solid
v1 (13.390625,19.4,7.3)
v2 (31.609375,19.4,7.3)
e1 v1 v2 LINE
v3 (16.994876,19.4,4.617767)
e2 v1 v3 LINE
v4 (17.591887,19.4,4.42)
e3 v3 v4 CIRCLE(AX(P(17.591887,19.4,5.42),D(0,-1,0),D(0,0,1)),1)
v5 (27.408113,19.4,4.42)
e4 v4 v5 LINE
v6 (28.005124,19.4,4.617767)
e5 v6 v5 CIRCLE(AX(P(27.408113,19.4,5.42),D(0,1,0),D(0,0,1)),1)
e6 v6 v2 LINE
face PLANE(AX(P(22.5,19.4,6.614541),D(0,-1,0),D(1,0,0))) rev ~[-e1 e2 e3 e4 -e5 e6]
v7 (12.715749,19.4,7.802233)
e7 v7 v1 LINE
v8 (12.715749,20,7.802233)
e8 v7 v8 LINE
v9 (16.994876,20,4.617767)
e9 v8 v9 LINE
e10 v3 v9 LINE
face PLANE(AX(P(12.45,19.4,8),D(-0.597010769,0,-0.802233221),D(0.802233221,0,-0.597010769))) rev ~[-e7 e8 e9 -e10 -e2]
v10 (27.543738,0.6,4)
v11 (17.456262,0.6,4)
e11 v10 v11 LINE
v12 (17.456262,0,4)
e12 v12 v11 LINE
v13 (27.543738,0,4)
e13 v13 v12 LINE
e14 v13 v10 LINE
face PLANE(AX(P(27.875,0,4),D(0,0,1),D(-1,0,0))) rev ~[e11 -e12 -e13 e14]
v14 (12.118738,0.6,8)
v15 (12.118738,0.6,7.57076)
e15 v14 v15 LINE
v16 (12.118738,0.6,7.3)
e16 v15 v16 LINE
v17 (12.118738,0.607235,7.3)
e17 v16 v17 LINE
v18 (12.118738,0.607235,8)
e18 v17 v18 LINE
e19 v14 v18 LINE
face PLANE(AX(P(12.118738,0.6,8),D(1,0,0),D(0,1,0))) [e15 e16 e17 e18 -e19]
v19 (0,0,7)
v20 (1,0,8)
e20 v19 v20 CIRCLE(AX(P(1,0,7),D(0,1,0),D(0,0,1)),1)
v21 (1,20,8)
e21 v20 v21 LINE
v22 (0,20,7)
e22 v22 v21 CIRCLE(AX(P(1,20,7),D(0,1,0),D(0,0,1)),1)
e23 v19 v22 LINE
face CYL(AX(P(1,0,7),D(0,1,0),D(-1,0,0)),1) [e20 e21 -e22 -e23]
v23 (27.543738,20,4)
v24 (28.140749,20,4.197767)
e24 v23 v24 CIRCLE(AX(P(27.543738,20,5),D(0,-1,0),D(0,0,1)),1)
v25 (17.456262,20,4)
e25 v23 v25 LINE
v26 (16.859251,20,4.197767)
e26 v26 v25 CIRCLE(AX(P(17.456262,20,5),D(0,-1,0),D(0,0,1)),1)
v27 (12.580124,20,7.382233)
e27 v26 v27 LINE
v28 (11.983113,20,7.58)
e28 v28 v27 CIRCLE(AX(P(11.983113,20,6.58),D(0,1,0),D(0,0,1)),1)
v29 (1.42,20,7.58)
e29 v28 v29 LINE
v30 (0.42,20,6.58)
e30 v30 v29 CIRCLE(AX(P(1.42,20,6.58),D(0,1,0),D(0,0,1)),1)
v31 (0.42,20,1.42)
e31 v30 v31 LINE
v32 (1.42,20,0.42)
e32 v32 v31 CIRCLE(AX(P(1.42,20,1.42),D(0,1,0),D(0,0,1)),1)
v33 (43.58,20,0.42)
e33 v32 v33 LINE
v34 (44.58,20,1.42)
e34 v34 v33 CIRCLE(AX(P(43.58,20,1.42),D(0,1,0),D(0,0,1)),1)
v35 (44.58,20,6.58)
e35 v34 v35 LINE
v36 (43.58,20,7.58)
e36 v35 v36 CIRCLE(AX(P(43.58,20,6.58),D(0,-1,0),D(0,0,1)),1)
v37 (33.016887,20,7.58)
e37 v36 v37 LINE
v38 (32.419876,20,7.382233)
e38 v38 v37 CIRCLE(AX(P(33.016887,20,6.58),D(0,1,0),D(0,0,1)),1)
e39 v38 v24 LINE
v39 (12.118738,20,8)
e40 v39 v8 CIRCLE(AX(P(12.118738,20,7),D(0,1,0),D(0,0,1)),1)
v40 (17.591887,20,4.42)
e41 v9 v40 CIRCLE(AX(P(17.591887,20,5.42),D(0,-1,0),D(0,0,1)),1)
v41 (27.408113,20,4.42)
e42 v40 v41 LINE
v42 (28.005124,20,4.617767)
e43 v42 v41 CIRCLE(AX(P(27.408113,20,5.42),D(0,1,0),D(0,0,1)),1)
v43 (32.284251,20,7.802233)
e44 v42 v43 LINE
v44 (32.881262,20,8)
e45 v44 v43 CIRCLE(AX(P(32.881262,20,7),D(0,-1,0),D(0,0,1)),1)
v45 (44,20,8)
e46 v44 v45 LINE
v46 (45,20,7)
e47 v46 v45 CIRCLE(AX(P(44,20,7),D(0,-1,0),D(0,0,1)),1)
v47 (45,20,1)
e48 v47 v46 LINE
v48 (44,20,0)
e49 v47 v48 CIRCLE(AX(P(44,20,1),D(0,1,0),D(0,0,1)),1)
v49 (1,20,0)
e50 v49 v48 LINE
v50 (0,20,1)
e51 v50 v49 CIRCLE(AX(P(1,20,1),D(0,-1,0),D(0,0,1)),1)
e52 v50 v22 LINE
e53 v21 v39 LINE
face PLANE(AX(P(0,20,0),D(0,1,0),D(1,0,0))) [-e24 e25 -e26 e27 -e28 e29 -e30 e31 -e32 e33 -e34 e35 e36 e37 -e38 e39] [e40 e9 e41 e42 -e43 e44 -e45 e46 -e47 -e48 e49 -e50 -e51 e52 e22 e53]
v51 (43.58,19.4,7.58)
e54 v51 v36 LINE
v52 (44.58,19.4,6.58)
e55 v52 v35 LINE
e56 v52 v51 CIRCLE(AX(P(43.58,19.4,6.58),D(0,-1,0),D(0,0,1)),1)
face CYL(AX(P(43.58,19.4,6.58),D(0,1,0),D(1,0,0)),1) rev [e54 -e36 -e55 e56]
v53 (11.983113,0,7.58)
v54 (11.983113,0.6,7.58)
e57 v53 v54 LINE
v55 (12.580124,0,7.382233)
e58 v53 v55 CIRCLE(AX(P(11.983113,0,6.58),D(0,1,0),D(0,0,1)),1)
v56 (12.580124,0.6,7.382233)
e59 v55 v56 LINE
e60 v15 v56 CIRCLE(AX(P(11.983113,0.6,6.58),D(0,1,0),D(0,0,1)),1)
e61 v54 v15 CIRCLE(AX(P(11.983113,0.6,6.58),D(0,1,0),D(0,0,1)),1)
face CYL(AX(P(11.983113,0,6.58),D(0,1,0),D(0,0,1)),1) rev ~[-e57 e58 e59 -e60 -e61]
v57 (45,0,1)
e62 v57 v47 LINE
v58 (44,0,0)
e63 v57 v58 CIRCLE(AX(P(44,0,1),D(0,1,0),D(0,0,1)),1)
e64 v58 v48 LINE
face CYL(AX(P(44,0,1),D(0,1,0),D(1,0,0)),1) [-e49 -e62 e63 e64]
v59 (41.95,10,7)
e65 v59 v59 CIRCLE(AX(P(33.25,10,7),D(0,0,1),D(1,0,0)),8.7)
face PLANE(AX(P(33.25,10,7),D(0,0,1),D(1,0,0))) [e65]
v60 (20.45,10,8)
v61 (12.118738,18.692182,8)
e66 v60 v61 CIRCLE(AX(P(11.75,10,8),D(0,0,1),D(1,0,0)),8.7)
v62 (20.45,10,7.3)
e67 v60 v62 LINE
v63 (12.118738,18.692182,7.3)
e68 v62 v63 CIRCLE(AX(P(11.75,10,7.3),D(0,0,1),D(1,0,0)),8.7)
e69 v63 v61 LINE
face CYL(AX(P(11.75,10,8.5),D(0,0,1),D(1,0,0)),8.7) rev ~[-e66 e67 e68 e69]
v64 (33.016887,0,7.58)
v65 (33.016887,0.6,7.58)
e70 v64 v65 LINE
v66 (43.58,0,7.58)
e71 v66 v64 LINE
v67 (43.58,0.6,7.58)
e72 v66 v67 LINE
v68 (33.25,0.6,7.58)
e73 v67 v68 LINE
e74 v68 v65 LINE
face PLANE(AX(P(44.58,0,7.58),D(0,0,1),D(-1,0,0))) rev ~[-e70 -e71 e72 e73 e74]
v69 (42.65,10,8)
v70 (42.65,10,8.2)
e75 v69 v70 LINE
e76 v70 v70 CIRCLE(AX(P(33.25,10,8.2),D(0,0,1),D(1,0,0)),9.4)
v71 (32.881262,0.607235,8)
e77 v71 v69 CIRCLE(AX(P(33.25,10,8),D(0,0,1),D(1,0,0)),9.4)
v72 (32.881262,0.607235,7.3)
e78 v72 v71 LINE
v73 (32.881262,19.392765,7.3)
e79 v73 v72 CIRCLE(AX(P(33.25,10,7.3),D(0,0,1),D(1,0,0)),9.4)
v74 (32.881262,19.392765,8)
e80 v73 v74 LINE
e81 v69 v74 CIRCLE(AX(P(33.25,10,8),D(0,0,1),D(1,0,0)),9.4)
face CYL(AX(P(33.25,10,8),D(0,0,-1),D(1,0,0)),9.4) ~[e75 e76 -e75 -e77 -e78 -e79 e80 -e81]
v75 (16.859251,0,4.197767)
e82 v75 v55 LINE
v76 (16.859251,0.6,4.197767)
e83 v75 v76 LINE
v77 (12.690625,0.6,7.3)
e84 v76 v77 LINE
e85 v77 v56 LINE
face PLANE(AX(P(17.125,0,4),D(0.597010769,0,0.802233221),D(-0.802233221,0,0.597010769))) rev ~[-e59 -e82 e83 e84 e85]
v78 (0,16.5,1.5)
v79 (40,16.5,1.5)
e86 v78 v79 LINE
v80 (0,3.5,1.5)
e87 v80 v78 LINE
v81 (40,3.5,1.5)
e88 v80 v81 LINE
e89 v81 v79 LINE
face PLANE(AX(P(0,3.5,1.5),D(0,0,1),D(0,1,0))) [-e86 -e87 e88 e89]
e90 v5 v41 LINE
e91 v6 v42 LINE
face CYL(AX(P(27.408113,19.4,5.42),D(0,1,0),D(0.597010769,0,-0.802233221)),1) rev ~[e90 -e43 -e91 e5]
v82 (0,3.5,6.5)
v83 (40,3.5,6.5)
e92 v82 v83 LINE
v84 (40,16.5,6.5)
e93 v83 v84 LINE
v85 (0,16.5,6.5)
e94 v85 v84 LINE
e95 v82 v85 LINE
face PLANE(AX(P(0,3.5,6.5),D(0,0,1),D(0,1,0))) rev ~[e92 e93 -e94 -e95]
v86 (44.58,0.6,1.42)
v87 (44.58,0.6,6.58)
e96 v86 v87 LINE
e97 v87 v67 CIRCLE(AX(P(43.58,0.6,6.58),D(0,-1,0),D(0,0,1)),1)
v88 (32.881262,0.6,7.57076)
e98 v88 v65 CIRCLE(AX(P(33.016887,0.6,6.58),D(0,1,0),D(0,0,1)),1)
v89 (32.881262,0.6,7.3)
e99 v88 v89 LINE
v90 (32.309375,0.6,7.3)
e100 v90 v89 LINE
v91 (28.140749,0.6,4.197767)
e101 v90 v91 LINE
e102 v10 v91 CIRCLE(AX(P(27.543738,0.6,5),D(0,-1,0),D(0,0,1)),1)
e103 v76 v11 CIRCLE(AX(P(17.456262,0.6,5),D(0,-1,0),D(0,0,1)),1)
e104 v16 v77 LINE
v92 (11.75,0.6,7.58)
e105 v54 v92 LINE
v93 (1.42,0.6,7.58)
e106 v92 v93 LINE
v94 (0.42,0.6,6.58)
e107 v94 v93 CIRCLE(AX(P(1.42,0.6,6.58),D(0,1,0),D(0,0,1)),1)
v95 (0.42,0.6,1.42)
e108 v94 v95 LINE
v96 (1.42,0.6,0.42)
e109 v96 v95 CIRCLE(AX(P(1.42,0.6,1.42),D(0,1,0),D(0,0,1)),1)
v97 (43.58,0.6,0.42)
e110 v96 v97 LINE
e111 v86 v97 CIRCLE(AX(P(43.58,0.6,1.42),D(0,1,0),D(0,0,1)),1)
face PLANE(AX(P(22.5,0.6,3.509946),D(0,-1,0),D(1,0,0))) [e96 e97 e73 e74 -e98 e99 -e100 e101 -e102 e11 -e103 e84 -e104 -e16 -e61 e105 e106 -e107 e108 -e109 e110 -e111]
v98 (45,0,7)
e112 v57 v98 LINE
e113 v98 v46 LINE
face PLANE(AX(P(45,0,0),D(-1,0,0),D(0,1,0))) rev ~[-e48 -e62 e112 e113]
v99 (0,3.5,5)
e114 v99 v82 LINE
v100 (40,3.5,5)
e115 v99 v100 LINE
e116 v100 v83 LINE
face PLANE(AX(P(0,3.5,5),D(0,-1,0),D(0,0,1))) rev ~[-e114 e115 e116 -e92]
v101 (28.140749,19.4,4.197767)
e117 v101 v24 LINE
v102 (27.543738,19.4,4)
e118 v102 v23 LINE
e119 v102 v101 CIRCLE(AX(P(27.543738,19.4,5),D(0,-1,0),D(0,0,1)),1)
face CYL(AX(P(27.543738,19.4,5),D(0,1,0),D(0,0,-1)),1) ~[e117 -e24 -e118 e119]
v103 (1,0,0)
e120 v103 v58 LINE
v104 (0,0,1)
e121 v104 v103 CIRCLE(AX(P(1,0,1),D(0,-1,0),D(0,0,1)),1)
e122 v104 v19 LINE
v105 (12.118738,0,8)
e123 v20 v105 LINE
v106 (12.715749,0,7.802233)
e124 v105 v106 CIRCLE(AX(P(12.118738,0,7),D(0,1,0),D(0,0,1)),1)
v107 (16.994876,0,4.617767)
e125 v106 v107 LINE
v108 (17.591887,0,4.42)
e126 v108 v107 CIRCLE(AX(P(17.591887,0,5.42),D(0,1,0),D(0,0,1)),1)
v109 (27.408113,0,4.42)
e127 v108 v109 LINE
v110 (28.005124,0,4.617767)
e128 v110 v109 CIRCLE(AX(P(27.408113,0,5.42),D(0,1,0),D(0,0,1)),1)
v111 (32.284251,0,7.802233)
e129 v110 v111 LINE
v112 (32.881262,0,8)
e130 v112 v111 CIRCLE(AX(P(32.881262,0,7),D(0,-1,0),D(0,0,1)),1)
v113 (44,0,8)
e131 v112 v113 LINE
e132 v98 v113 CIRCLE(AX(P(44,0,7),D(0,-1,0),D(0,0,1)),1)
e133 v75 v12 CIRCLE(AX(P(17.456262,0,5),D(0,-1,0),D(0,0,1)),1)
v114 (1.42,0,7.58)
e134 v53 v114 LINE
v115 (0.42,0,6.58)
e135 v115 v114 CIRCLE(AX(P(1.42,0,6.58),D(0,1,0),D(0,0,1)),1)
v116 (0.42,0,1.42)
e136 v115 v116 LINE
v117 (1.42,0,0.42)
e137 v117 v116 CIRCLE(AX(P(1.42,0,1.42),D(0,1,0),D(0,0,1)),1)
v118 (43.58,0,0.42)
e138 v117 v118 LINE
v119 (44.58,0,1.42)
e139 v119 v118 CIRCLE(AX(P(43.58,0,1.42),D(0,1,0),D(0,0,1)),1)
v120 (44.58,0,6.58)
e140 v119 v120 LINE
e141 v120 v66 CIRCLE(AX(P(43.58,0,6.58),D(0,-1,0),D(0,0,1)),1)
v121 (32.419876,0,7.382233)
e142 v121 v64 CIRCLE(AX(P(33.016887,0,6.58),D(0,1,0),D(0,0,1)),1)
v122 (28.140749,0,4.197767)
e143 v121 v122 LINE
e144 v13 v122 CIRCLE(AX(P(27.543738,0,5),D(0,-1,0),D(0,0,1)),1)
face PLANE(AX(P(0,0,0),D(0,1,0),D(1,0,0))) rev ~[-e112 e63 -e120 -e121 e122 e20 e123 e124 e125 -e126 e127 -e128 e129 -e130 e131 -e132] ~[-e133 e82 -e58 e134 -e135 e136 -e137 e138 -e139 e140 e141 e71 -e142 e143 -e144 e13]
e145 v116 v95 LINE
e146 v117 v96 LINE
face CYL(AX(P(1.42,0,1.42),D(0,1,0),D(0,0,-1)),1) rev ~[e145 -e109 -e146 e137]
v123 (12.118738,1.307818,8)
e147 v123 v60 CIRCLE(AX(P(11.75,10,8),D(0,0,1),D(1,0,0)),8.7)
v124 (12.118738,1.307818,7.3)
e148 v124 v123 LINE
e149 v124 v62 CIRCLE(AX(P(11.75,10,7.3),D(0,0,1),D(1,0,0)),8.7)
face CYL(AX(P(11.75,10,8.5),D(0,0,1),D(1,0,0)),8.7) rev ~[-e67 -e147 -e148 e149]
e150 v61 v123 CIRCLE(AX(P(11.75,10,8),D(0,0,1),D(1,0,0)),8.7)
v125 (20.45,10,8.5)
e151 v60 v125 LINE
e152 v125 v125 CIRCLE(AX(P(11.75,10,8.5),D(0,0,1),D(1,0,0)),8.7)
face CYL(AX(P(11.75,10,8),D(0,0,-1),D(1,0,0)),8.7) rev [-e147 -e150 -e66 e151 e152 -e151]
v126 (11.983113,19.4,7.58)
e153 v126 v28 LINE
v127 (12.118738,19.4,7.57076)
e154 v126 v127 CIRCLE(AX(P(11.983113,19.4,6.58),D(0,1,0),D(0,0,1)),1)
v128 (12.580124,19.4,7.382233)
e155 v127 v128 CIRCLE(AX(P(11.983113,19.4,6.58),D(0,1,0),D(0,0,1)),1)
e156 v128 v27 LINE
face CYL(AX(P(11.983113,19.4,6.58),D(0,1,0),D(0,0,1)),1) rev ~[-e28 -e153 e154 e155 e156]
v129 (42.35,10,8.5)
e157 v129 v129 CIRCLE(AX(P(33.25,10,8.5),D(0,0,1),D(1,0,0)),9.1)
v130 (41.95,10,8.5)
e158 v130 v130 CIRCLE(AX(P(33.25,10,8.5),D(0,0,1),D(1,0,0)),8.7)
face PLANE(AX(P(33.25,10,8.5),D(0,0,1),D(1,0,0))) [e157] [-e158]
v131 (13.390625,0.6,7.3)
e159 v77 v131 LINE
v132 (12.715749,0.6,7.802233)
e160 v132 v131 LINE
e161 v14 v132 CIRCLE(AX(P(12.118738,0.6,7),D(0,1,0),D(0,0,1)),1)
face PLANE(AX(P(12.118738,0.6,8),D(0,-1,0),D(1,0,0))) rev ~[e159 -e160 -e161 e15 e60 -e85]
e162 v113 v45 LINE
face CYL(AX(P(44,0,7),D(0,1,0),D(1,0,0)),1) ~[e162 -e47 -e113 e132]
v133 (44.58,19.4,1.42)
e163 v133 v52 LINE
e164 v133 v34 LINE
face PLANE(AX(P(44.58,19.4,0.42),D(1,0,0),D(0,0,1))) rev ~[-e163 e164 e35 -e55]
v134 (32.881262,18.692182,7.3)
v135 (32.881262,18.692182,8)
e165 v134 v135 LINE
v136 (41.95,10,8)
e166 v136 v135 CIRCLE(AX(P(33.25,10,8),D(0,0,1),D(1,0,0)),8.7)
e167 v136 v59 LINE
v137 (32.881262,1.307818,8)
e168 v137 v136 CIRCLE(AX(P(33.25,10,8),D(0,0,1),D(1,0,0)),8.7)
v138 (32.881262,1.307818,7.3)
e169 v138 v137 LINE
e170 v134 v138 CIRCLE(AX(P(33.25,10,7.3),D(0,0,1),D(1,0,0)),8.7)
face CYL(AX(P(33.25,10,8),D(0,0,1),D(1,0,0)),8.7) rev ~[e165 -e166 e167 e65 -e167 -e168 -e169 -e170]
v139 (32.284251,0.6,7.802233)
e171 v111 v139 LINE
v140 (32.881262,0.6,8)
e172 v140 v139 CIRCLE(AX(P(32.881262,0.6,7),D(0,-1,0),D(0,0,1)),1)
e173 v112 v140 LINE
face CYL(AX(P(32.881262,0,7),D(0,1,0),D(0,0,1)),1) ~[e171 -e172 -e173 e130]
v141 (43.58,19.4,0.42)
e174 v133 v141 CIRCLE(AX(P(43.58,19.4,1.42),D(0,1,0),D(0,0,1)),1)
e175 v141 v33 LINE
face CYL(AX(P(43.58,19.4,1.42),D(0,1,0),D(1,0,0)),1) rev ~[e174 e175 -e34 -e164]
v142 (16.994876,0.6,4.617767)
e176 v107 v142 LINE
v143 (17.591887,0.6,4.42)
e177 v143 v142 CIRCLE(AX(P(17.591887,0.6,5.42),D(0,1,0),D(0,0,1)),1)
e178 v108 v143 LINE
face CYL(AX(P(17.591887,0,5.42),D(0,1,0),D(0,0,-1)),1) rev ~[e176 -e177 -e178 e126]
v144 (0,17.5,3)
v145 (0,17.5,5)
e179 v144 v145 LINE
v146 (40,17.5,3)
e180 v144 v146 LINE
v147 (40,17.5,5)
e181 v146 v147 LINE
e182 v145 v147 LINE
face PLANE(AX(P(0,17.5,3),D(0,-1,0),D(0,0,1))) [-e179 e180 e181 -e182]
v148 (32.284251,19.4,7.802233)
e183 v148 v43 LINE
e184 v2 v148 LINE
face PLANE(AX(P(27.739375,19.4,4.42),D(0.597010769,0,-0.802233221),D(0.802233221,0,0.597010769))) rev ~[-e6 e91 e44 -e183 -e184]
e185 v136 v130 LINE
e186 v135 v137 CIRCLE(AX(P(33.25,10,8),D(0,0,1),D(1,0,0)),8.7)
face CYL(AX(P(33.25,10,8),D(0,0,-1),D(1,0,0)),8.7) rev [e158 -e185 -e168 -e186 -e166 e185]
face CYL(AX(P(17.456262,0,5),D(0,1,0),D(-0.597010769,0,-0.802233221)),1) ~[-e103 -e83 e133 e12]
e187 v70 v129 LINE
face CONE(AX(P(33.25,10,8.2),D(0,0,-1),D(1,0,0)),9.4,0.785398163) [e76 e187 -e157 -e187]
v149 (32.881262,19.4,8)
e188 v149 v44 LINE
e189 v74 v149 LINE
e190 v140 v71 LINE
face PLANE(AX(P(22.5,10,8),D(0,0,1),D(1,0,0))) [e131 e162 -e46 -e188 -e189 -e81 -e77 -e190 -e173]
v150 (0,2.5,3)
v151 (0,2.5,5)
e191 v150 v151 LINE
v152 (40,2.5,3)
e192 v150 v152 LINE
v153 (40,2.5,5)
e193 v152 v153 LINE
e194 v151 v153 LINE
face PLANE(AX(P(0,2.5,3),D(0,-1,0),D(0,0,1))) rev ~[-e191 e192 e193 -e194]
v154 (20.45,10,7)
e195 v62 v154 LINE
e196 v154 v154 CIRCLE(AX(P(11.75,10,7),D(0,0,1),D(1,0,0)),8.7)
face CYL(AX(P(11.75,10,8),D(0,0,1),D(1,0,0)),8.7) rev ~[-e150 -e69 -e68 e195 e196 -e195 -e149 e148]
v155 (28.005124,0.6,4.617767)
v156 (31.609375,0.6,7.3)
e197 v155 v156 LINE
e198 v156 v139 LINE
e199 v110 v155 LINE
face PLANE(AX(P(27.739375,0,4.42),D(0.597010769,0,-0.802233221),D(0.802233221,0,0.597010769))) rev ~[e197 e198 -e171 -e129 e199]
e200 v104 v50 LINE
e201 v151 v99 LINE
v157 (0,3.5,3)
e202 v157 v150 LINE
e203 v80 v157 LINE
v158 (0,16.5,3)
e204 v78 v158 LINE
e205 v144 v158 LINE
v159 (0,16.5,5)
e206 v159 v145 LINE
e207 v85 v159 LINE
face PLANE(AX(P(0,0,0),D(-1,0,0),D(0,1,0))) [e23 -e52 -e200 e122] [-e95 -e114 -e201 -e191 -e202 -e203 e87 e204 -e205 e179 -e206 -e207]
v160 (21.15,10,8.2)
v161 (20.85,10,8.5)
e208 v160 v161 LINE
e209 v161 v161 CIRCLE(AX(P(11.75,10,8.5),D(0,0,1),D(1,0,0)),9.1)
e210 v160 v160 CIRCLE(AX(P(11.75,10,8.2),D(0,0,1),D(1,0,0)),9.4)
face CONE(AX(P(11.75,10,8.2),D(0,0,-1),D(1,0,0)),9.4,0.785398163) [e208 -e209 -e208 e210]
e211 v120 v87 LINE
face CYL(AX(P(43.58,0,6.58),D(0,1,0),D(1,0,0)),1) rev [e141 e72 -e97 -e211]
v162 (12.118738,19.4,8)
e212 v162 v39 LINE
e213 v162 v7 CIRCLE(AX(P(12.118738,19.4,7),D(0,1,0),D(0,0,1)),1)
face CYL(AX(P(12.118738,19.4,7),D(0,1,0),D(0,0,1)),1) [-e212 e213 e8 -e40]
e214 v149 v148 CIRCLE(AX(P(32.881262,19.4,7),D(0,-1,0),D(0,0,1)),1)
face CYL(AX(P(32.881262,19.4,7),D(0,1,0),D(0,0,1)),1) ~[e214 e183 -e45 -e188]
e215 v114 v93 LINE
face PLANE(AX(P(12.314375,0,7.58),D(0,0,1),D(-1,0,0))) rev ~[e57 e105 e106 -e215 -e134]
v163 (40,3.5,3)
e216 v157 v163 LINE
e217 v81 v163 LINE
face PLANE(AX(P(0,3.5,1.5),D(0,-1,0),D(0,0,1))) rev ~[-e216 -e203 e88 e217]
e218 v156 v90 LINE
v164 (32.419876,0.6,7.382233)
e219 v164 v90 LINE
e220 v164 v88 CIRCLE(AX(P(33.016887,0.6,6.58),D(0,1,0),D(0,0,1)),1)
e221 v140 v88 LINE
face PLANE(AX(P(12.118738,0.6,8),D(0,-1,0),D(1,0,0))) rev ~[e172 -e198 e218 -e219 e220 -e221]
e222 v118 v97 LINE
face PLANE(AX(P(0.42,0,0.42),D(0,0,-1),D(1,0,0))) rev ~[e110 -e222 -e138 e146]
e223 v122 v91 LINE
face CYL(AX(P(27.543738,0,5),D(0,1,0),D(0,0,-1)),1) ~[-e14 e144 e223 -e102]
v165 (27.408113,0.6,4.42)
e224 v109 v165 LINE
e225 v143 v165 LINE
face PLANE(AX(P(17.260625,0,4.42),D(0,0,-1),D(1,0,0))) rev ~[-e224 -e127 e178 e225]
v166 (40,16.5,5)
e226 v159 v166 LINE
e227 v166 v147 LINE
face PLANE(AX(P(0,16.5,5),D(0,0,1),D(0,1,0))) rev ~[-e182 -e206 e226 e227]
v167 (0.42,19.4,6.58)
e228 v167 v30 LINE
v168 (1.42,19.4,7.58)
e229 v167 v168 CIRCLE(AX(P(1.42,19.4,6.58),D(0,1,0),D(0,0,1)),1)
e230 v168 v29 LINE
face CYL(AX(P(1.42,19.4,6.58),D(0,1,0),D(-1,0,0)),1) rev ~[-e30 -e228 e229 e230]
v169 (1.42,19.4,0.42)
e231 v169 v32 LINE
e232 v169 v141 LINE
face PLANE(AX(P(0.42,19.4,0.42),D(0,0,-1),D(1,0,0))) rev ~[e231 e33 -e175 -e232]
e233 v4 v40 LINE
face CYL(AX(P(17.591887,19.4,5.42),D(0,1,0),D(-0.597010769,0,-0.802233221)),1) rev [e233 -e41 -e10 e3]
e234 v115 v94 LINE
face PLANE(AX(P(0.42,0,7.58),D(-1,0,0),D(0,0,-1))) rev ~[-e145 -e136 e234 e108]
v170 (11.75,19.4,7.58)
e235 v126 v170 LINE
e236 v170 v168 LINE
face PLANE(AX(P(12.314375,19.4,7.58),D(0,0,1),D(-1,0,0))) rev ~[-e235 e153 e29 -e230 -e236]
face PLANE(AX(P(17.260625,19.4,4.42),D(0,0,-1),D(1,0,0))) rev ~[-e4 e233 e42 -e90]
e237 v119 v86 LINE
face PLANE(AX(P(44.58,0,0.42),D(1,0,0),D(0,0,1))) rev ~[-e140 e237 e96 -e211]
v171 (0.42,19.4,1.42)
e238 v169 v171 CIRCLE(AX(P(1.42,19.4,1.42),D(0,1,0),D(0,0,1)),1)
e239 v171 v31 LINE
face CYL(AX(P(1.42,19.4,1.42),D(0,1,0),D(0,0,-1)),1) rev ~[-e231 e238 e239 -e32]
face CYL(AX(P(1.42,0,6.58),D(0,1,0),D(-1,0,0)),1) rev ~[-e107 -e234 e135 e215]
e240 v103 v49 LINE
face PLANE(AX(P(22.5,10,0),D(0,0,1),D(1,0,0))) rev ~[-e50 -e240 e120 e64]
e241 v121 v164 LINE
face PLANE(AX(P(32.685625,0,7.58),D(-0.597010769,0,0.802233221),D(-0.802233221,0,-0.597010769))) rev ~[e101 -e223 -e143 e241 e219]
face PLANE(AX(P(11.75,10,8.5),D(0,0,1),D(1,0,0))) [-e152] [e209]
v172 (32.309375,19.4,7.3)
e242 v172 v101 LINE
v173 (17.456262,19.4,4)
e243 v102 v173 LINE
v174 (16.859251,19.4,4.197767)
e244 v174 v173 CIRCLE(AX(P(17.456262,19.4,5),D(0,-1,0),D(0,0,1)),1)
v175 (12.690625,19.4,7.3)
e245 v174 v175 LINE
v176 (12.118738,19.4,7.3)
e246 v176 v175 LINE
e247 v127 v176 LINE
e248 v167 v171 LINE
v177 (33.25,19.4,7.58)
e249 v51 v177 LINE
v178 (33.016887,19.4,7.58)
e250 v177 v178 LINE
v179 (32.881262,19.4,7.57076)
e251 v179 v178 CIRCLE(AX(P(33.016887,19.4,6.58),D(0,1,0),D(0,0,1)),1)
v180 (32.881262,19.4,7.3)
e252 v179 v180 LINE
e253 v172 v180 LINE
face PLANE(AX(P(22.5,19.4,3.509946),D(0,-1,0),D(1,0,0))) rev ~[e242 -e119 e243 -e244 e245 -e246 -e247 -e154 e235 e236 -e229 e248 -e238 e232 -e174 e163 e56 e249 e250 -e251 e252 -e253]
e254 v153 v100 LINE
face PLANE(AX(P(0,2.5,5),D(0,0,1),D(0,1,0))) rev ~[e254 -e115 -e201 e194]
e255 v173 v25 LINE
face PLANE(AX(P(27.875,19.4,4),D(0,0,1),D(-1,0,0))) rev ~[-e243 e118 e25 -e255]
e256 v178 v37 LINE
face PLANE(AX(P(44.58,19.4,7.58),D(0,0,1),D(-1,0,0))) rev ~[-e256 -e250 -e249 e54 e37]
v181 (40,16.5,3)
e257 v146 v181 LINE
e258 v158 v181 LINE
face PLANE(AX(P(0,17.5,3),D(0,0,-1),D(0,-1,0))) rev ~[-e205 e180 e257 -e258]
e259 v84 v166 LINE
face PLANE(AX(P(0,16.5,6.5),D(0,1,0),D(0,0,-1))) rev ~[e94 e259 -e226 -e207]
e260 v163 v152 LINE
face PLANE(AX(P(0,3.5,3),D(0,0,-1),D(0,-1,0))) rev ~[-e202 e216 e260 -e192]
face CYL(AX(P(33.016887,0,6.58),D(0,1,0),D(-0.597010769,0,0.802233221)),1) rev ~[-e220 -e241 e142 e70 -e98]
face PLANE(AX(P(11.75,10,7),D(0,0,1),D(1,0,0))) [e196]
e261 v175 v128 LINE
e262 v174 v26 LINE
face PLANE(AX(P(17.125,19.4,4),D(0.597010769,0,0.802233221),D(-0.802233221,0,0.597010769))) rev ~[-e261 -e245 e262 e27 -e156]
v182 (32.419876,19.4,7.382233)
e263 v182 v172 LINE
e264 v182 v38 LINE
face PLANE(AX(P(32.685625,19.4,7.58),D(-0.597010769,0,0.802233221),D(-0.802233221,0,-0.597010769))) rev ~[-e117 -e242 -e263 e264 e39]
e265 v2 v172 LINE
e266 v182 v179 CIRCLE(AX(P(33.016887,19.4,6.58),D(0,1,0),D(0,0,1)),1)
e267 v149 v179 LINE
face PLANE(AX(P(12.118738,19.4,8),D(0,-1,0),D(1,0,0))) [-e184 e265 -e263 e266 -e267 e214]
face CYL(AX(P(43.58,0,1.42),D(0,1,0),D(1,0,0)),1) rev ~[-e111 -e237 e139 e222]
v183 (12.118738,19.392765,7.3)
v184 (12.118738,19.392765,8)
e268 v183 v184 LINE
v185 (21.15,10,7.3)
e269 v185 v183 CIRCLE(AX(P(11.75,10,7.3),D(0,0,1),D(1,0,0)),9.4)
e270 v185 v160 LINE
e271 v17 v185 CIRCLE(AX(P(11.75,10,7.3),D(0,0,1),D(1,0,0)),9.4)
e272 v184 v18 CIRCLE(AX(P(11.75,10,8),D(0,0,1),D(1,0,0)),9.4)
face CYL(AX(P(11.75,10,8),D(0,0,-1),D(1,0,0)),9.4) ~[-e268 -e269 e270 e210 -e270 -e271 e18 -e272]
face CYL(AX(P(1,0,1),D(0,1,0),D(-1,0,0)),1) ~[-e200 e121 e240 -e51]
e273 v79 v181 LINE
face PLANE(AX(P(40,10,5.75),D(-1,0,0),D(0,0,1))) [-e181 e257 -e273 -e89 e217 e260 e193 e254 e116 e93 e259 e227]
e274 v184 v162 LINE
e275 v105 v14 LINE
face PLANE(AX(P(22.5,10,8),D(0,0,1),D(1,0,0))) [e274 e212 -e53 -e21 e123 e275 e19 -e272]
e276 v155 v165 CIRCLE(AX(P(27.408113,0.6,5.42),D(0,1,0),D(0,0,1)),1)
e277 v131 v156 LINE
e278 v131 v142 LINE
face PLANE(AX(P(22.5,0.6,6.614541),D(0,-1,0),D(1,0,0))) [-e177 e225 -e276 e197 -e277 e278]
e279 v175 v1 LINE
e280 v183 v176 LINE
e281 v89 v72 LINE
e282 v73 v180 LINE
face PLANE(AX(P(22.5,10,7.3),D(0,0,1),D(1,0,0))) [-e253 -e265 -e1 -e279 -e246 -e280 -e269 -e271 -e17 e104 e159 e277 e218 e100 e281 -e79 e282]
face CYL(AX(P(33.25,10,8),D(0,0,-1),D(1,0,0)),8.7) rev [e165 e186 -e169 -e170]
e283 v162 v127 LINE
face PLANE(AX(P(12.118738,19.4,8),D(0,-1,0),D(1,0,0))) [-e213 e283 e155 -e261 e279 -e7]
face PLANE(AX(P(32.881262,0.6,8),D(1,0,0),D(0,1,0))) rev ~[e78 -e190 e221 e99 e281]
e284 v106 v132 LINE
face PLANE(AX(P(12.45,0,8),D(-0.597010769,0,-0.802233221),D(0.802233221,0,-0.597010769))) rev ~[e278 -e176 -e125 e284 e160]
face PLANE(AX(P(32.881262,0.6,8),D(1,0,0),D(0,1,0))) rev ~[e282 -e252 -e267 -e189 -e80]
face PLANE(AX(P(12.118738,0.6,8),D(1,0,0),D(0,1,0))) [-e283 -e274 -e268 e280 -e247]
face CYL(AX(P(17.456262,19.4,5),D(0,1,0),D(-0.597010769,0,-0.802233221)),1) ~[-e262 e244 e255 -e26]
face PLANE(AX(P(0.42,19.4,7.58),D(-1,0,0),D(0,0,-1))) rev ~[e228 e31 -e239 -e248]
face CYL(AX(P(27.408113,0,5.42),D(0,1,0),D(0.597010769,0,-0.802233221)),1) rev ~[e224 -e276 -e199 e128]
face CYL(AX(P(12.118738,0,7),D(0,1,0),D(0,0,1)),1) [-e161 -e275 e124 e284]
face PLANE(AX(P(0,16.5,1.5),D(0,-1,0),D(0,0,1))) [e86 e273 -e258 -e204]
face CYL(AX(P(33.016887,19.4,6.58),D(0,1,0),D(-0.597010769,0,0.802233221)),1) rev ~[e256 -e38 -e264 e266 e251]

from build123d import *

# Parameters (mm, degrees)
SKETCH1_W              = 45
SKETCH1_H              = 20
BOSS_EXTRUDE1_DEPTH    = 8
FILLET1_R              = 1
SKETCH3_R              = 9.4
SKETCH3_R_2            = 8.7
BOSS_EXTRUDE2_DEPTH    = 0.5
CUT_EXTRUDE1_DEPTH     = 0.6
FILLET2_R              = 1
LPATTERN3_COUNT        = 2
LPATTERN3_PITCH        = 19.4
FILLET2_OF_LPATTERN3_R = 1
SKETCH6_W              = 20.76252332
SKETCH6_H              = 18.8
CUT_EXTRUDE3_DEPTH     = 0.7
SKETCH7_R              = 9.4
SKETCH7_R_2            = 8.7
BOSS_EXTRUDE4_DEPTH    = 1.3
SKETCH8_R              = 9.4
SKETCH8_R_2            = 8.7
BOSS_EXTRUDE5_DEPTH    = 1.3
CHAMFER1_SIZE          = 0.3
SKETCH12_R             = 8.7
CUT_EXTRUDE4_DEPTH     = 1
SKETCH13_R             = 8.7
CUT_EXTRUDE5_DEPTH     = 1
SKETCH19_W             = 1.5
SKETCH19_H             = 13
SKETCH19_W_2           = 2
SKETCH19_H_2           = 1
CUT_EXTRUDE6_DEPTH     = 40


with BuildPart() as part:
    # Sketch1 → Boss-Extrude1 (new body)
    with BuildSketch(Plane.XY):
        with Locations((22.5, 10)):
            Rectangle(SKETCH1_W, SKETCH1_H)
    extrude(amount=BOSS_EXTRUDE1_DEPTH)

    # Fillet1
    fillet1_edges = [part.edges().sort_by_distance(p)[0] for p in [
        (45, 10, 8),
        (0, 10, 8),
        (45, 10, 0),
        (0, 10, 0),
    ]]
    fillet(fillet1_edges, radius=FILLET1_R)

    # Sketch3 → Boss-Extrude2 (add)
    with BuildSketch(Plane.XY.offset(8)):
        with Locations((11.75, 10)):
            Circle(SKETCH3_R)
        with Locations((11.75, 10)):
            Circle(SKETCH3_R_2, mode=Mode.SUBTRACT)
        with Locations((33.25, 10)):
            Circle(SKETCH3_R)
        with Locations((33.25, 10)):
            Circle(SKETCH3_R_2, mode=Mode.SUBTRACT)
    extrude(amount=BOSS_EXTRUDE2_DEPTH)

    # Sketch4 → Cut-Extrude1 (cut)
    with BuildSketch(Plane.XZ):
        Polygon((27.739375, 4.42), (32.55, 8), (12.45, 8), (17.260625, 4.42), align=None)
        Polygon((44.58, 7.58), (32.685625, 7.58), (27.875, 4), (27.175, 4), (17.825, 4), (17.125, 4), (12.314375, 7.58), (0.42, 7.58), (0.42, 0.42), (44.58, 0.42), align=None)
    cut_extrude1 = extrude(amount=-CUT_EXTRUDE1_DEPTH, mode=Mode.SUBTRACT)

    # Fillet2
    fillet2_edges = [part.edges().sort_by_distance(p)[0] for p in [
        (0.42, 0.3, 7.58),
        (12.314375, 0.3, 7.58),
        (17.125, 0.3, 4),
        (27.875, 0.3, 4),
        (32.685625, 0.3, 7.58),
        (44.58, 0.3, 7.58),
        (44.58, 0.3, 0.42),
        (0.42, 0.3, 0.42),
        (17.260625, 0.3, 4.42),
        (12.45, 0.3, 8),
        (32.55, 0.3, 8),
        (27.739375, 0.3, 4.42),
    ]]
    fillet(fillet2_edges, radius=FILLET2_R)

    # LPattern3: Cut-Extrude1 ×2
    with Locations(*[(0, i * LPATTERN3_PITCH, 0) for i in range(1, LPATTERN3_COUNT)]):
        add(cut_extrude1, mode=Mode.SUBTRACT)

    # Fillet2 of LPattern3
    fillet2_of_lpattern3_edges = [part.edges().sort_by_distance(p)[0] for p in [
        (0.42, 19.7, 7.58),
        (12.314375, 19.7, 7.58),
        (17.125, 19.7, 4),
        (27.875, 19.7, 4),
        (32.685625, 19.7, 7.58),
        (44.58, 19.7, 7.58),
        (44.58, 19.7, 0.42),
        (0.42, 19.7, 0.42),
        (17.260625, 19.7, 4.42),
        (12.45, 19.7, 8),
        (32.55, 19.7, 8),
        (27.739375, 19.7, 4.42),
    ]]
    fillet(fillet2_of_lpattern3_edges, radius=FILLET2_OF_LPATTERN3_R)

    # Sketch6 → Cut-Extrude3 (cut)
    with BuildSketch(Plane.XY.offset(8)):
        with Locations((22.5, 10)):
            Rectangle(SKETCH6_W, SKETCH6_H)
    extrude(amount=-CUT_EXTRUDE3_DEPTH, mode=Mode.SUBTRACT)

    # Sketch7 → Boss-Extrude4 (add)
    with BuildSketch(Plane.XY.offset(8.5)):
        with Locations((11.75, 10)):
            Circle(SKETCH7_R)
        with Locations((11.75, 10)):
            Circle(SKETCH7_R_2, mode=Mode.SUBTRACT)
    extrude(amount=-BOSS_EXTRUDE4_DEPTH)

    # Sketch8 → Boss-Extrude5 (add)
    with BuildSketch(Plane.XY.offset(8.5)):
        with Locations((33.25, 10)):
            Circle(SKETCH8_R)
        with Locations((33.25, 10)):
            Circle(SKETCH8_R_2, mode=Mode.SUBTRACT)
    extrude(amount=-BOSS_EXTRUDE5_DEPTH)

    # Chamfer1
    chamfer1_edges = [part.edges().sort_by_distance(p)[0] for p in [
        (2.35, 10, 8.5),
        (23.85, 10, 8.5),
    ]]
    chamfer(chamfer1_edges, length=CHAMFER1_SIZE)

    # Sketch12 → Cut-Extrude4 (cut)
    with BuildSketch(Plane.XY.offset(8)):
        with Locations((33.25, 10)):
            Circle(SKETCH12_R)
    extrude(amount=-CUT_EXTRUDE4_DEPTH, mode=Mode.SUBTRACT)

    # Sketch13 → Cut-Extrude5 (cut)
    with BuildSketch(Plane.XY.offset(8)):
        with Locations((11.75, 10)):
            Circle(SKETCH13_R)
    extrude(amount=-CUT_EXTRUDE5_DEPTH, mode=Mode.SUBTRACT)

    # Sketch19 → Cut-Extrude6 (cut)
    with BuildSketch(Plane.ZY):
        with Locations((5.75, 10)):
            Rectangle(SKETCH19_W, SKETCH19_H)
        with Locations((4, 10)):
            Rectangle(SKETCH19_W_2, SKETCH19_H)
        with Locations((4, 17)):
            Rectangle(SKETCH19_W_2, SKETCH19_H_2)
        with Locations((4, 3)):
            Rectangle(SKETCH19_W_2, SKETCH19_H_2)
        with Locations((2.25, 10)):
            Rectangle(SKETCH19_W, SKETCH19_H)
    extrude(amount=-CUT_EXTRUDE6_DEPTH, mode=Mode.SUBTRACT)


solid = part.part
